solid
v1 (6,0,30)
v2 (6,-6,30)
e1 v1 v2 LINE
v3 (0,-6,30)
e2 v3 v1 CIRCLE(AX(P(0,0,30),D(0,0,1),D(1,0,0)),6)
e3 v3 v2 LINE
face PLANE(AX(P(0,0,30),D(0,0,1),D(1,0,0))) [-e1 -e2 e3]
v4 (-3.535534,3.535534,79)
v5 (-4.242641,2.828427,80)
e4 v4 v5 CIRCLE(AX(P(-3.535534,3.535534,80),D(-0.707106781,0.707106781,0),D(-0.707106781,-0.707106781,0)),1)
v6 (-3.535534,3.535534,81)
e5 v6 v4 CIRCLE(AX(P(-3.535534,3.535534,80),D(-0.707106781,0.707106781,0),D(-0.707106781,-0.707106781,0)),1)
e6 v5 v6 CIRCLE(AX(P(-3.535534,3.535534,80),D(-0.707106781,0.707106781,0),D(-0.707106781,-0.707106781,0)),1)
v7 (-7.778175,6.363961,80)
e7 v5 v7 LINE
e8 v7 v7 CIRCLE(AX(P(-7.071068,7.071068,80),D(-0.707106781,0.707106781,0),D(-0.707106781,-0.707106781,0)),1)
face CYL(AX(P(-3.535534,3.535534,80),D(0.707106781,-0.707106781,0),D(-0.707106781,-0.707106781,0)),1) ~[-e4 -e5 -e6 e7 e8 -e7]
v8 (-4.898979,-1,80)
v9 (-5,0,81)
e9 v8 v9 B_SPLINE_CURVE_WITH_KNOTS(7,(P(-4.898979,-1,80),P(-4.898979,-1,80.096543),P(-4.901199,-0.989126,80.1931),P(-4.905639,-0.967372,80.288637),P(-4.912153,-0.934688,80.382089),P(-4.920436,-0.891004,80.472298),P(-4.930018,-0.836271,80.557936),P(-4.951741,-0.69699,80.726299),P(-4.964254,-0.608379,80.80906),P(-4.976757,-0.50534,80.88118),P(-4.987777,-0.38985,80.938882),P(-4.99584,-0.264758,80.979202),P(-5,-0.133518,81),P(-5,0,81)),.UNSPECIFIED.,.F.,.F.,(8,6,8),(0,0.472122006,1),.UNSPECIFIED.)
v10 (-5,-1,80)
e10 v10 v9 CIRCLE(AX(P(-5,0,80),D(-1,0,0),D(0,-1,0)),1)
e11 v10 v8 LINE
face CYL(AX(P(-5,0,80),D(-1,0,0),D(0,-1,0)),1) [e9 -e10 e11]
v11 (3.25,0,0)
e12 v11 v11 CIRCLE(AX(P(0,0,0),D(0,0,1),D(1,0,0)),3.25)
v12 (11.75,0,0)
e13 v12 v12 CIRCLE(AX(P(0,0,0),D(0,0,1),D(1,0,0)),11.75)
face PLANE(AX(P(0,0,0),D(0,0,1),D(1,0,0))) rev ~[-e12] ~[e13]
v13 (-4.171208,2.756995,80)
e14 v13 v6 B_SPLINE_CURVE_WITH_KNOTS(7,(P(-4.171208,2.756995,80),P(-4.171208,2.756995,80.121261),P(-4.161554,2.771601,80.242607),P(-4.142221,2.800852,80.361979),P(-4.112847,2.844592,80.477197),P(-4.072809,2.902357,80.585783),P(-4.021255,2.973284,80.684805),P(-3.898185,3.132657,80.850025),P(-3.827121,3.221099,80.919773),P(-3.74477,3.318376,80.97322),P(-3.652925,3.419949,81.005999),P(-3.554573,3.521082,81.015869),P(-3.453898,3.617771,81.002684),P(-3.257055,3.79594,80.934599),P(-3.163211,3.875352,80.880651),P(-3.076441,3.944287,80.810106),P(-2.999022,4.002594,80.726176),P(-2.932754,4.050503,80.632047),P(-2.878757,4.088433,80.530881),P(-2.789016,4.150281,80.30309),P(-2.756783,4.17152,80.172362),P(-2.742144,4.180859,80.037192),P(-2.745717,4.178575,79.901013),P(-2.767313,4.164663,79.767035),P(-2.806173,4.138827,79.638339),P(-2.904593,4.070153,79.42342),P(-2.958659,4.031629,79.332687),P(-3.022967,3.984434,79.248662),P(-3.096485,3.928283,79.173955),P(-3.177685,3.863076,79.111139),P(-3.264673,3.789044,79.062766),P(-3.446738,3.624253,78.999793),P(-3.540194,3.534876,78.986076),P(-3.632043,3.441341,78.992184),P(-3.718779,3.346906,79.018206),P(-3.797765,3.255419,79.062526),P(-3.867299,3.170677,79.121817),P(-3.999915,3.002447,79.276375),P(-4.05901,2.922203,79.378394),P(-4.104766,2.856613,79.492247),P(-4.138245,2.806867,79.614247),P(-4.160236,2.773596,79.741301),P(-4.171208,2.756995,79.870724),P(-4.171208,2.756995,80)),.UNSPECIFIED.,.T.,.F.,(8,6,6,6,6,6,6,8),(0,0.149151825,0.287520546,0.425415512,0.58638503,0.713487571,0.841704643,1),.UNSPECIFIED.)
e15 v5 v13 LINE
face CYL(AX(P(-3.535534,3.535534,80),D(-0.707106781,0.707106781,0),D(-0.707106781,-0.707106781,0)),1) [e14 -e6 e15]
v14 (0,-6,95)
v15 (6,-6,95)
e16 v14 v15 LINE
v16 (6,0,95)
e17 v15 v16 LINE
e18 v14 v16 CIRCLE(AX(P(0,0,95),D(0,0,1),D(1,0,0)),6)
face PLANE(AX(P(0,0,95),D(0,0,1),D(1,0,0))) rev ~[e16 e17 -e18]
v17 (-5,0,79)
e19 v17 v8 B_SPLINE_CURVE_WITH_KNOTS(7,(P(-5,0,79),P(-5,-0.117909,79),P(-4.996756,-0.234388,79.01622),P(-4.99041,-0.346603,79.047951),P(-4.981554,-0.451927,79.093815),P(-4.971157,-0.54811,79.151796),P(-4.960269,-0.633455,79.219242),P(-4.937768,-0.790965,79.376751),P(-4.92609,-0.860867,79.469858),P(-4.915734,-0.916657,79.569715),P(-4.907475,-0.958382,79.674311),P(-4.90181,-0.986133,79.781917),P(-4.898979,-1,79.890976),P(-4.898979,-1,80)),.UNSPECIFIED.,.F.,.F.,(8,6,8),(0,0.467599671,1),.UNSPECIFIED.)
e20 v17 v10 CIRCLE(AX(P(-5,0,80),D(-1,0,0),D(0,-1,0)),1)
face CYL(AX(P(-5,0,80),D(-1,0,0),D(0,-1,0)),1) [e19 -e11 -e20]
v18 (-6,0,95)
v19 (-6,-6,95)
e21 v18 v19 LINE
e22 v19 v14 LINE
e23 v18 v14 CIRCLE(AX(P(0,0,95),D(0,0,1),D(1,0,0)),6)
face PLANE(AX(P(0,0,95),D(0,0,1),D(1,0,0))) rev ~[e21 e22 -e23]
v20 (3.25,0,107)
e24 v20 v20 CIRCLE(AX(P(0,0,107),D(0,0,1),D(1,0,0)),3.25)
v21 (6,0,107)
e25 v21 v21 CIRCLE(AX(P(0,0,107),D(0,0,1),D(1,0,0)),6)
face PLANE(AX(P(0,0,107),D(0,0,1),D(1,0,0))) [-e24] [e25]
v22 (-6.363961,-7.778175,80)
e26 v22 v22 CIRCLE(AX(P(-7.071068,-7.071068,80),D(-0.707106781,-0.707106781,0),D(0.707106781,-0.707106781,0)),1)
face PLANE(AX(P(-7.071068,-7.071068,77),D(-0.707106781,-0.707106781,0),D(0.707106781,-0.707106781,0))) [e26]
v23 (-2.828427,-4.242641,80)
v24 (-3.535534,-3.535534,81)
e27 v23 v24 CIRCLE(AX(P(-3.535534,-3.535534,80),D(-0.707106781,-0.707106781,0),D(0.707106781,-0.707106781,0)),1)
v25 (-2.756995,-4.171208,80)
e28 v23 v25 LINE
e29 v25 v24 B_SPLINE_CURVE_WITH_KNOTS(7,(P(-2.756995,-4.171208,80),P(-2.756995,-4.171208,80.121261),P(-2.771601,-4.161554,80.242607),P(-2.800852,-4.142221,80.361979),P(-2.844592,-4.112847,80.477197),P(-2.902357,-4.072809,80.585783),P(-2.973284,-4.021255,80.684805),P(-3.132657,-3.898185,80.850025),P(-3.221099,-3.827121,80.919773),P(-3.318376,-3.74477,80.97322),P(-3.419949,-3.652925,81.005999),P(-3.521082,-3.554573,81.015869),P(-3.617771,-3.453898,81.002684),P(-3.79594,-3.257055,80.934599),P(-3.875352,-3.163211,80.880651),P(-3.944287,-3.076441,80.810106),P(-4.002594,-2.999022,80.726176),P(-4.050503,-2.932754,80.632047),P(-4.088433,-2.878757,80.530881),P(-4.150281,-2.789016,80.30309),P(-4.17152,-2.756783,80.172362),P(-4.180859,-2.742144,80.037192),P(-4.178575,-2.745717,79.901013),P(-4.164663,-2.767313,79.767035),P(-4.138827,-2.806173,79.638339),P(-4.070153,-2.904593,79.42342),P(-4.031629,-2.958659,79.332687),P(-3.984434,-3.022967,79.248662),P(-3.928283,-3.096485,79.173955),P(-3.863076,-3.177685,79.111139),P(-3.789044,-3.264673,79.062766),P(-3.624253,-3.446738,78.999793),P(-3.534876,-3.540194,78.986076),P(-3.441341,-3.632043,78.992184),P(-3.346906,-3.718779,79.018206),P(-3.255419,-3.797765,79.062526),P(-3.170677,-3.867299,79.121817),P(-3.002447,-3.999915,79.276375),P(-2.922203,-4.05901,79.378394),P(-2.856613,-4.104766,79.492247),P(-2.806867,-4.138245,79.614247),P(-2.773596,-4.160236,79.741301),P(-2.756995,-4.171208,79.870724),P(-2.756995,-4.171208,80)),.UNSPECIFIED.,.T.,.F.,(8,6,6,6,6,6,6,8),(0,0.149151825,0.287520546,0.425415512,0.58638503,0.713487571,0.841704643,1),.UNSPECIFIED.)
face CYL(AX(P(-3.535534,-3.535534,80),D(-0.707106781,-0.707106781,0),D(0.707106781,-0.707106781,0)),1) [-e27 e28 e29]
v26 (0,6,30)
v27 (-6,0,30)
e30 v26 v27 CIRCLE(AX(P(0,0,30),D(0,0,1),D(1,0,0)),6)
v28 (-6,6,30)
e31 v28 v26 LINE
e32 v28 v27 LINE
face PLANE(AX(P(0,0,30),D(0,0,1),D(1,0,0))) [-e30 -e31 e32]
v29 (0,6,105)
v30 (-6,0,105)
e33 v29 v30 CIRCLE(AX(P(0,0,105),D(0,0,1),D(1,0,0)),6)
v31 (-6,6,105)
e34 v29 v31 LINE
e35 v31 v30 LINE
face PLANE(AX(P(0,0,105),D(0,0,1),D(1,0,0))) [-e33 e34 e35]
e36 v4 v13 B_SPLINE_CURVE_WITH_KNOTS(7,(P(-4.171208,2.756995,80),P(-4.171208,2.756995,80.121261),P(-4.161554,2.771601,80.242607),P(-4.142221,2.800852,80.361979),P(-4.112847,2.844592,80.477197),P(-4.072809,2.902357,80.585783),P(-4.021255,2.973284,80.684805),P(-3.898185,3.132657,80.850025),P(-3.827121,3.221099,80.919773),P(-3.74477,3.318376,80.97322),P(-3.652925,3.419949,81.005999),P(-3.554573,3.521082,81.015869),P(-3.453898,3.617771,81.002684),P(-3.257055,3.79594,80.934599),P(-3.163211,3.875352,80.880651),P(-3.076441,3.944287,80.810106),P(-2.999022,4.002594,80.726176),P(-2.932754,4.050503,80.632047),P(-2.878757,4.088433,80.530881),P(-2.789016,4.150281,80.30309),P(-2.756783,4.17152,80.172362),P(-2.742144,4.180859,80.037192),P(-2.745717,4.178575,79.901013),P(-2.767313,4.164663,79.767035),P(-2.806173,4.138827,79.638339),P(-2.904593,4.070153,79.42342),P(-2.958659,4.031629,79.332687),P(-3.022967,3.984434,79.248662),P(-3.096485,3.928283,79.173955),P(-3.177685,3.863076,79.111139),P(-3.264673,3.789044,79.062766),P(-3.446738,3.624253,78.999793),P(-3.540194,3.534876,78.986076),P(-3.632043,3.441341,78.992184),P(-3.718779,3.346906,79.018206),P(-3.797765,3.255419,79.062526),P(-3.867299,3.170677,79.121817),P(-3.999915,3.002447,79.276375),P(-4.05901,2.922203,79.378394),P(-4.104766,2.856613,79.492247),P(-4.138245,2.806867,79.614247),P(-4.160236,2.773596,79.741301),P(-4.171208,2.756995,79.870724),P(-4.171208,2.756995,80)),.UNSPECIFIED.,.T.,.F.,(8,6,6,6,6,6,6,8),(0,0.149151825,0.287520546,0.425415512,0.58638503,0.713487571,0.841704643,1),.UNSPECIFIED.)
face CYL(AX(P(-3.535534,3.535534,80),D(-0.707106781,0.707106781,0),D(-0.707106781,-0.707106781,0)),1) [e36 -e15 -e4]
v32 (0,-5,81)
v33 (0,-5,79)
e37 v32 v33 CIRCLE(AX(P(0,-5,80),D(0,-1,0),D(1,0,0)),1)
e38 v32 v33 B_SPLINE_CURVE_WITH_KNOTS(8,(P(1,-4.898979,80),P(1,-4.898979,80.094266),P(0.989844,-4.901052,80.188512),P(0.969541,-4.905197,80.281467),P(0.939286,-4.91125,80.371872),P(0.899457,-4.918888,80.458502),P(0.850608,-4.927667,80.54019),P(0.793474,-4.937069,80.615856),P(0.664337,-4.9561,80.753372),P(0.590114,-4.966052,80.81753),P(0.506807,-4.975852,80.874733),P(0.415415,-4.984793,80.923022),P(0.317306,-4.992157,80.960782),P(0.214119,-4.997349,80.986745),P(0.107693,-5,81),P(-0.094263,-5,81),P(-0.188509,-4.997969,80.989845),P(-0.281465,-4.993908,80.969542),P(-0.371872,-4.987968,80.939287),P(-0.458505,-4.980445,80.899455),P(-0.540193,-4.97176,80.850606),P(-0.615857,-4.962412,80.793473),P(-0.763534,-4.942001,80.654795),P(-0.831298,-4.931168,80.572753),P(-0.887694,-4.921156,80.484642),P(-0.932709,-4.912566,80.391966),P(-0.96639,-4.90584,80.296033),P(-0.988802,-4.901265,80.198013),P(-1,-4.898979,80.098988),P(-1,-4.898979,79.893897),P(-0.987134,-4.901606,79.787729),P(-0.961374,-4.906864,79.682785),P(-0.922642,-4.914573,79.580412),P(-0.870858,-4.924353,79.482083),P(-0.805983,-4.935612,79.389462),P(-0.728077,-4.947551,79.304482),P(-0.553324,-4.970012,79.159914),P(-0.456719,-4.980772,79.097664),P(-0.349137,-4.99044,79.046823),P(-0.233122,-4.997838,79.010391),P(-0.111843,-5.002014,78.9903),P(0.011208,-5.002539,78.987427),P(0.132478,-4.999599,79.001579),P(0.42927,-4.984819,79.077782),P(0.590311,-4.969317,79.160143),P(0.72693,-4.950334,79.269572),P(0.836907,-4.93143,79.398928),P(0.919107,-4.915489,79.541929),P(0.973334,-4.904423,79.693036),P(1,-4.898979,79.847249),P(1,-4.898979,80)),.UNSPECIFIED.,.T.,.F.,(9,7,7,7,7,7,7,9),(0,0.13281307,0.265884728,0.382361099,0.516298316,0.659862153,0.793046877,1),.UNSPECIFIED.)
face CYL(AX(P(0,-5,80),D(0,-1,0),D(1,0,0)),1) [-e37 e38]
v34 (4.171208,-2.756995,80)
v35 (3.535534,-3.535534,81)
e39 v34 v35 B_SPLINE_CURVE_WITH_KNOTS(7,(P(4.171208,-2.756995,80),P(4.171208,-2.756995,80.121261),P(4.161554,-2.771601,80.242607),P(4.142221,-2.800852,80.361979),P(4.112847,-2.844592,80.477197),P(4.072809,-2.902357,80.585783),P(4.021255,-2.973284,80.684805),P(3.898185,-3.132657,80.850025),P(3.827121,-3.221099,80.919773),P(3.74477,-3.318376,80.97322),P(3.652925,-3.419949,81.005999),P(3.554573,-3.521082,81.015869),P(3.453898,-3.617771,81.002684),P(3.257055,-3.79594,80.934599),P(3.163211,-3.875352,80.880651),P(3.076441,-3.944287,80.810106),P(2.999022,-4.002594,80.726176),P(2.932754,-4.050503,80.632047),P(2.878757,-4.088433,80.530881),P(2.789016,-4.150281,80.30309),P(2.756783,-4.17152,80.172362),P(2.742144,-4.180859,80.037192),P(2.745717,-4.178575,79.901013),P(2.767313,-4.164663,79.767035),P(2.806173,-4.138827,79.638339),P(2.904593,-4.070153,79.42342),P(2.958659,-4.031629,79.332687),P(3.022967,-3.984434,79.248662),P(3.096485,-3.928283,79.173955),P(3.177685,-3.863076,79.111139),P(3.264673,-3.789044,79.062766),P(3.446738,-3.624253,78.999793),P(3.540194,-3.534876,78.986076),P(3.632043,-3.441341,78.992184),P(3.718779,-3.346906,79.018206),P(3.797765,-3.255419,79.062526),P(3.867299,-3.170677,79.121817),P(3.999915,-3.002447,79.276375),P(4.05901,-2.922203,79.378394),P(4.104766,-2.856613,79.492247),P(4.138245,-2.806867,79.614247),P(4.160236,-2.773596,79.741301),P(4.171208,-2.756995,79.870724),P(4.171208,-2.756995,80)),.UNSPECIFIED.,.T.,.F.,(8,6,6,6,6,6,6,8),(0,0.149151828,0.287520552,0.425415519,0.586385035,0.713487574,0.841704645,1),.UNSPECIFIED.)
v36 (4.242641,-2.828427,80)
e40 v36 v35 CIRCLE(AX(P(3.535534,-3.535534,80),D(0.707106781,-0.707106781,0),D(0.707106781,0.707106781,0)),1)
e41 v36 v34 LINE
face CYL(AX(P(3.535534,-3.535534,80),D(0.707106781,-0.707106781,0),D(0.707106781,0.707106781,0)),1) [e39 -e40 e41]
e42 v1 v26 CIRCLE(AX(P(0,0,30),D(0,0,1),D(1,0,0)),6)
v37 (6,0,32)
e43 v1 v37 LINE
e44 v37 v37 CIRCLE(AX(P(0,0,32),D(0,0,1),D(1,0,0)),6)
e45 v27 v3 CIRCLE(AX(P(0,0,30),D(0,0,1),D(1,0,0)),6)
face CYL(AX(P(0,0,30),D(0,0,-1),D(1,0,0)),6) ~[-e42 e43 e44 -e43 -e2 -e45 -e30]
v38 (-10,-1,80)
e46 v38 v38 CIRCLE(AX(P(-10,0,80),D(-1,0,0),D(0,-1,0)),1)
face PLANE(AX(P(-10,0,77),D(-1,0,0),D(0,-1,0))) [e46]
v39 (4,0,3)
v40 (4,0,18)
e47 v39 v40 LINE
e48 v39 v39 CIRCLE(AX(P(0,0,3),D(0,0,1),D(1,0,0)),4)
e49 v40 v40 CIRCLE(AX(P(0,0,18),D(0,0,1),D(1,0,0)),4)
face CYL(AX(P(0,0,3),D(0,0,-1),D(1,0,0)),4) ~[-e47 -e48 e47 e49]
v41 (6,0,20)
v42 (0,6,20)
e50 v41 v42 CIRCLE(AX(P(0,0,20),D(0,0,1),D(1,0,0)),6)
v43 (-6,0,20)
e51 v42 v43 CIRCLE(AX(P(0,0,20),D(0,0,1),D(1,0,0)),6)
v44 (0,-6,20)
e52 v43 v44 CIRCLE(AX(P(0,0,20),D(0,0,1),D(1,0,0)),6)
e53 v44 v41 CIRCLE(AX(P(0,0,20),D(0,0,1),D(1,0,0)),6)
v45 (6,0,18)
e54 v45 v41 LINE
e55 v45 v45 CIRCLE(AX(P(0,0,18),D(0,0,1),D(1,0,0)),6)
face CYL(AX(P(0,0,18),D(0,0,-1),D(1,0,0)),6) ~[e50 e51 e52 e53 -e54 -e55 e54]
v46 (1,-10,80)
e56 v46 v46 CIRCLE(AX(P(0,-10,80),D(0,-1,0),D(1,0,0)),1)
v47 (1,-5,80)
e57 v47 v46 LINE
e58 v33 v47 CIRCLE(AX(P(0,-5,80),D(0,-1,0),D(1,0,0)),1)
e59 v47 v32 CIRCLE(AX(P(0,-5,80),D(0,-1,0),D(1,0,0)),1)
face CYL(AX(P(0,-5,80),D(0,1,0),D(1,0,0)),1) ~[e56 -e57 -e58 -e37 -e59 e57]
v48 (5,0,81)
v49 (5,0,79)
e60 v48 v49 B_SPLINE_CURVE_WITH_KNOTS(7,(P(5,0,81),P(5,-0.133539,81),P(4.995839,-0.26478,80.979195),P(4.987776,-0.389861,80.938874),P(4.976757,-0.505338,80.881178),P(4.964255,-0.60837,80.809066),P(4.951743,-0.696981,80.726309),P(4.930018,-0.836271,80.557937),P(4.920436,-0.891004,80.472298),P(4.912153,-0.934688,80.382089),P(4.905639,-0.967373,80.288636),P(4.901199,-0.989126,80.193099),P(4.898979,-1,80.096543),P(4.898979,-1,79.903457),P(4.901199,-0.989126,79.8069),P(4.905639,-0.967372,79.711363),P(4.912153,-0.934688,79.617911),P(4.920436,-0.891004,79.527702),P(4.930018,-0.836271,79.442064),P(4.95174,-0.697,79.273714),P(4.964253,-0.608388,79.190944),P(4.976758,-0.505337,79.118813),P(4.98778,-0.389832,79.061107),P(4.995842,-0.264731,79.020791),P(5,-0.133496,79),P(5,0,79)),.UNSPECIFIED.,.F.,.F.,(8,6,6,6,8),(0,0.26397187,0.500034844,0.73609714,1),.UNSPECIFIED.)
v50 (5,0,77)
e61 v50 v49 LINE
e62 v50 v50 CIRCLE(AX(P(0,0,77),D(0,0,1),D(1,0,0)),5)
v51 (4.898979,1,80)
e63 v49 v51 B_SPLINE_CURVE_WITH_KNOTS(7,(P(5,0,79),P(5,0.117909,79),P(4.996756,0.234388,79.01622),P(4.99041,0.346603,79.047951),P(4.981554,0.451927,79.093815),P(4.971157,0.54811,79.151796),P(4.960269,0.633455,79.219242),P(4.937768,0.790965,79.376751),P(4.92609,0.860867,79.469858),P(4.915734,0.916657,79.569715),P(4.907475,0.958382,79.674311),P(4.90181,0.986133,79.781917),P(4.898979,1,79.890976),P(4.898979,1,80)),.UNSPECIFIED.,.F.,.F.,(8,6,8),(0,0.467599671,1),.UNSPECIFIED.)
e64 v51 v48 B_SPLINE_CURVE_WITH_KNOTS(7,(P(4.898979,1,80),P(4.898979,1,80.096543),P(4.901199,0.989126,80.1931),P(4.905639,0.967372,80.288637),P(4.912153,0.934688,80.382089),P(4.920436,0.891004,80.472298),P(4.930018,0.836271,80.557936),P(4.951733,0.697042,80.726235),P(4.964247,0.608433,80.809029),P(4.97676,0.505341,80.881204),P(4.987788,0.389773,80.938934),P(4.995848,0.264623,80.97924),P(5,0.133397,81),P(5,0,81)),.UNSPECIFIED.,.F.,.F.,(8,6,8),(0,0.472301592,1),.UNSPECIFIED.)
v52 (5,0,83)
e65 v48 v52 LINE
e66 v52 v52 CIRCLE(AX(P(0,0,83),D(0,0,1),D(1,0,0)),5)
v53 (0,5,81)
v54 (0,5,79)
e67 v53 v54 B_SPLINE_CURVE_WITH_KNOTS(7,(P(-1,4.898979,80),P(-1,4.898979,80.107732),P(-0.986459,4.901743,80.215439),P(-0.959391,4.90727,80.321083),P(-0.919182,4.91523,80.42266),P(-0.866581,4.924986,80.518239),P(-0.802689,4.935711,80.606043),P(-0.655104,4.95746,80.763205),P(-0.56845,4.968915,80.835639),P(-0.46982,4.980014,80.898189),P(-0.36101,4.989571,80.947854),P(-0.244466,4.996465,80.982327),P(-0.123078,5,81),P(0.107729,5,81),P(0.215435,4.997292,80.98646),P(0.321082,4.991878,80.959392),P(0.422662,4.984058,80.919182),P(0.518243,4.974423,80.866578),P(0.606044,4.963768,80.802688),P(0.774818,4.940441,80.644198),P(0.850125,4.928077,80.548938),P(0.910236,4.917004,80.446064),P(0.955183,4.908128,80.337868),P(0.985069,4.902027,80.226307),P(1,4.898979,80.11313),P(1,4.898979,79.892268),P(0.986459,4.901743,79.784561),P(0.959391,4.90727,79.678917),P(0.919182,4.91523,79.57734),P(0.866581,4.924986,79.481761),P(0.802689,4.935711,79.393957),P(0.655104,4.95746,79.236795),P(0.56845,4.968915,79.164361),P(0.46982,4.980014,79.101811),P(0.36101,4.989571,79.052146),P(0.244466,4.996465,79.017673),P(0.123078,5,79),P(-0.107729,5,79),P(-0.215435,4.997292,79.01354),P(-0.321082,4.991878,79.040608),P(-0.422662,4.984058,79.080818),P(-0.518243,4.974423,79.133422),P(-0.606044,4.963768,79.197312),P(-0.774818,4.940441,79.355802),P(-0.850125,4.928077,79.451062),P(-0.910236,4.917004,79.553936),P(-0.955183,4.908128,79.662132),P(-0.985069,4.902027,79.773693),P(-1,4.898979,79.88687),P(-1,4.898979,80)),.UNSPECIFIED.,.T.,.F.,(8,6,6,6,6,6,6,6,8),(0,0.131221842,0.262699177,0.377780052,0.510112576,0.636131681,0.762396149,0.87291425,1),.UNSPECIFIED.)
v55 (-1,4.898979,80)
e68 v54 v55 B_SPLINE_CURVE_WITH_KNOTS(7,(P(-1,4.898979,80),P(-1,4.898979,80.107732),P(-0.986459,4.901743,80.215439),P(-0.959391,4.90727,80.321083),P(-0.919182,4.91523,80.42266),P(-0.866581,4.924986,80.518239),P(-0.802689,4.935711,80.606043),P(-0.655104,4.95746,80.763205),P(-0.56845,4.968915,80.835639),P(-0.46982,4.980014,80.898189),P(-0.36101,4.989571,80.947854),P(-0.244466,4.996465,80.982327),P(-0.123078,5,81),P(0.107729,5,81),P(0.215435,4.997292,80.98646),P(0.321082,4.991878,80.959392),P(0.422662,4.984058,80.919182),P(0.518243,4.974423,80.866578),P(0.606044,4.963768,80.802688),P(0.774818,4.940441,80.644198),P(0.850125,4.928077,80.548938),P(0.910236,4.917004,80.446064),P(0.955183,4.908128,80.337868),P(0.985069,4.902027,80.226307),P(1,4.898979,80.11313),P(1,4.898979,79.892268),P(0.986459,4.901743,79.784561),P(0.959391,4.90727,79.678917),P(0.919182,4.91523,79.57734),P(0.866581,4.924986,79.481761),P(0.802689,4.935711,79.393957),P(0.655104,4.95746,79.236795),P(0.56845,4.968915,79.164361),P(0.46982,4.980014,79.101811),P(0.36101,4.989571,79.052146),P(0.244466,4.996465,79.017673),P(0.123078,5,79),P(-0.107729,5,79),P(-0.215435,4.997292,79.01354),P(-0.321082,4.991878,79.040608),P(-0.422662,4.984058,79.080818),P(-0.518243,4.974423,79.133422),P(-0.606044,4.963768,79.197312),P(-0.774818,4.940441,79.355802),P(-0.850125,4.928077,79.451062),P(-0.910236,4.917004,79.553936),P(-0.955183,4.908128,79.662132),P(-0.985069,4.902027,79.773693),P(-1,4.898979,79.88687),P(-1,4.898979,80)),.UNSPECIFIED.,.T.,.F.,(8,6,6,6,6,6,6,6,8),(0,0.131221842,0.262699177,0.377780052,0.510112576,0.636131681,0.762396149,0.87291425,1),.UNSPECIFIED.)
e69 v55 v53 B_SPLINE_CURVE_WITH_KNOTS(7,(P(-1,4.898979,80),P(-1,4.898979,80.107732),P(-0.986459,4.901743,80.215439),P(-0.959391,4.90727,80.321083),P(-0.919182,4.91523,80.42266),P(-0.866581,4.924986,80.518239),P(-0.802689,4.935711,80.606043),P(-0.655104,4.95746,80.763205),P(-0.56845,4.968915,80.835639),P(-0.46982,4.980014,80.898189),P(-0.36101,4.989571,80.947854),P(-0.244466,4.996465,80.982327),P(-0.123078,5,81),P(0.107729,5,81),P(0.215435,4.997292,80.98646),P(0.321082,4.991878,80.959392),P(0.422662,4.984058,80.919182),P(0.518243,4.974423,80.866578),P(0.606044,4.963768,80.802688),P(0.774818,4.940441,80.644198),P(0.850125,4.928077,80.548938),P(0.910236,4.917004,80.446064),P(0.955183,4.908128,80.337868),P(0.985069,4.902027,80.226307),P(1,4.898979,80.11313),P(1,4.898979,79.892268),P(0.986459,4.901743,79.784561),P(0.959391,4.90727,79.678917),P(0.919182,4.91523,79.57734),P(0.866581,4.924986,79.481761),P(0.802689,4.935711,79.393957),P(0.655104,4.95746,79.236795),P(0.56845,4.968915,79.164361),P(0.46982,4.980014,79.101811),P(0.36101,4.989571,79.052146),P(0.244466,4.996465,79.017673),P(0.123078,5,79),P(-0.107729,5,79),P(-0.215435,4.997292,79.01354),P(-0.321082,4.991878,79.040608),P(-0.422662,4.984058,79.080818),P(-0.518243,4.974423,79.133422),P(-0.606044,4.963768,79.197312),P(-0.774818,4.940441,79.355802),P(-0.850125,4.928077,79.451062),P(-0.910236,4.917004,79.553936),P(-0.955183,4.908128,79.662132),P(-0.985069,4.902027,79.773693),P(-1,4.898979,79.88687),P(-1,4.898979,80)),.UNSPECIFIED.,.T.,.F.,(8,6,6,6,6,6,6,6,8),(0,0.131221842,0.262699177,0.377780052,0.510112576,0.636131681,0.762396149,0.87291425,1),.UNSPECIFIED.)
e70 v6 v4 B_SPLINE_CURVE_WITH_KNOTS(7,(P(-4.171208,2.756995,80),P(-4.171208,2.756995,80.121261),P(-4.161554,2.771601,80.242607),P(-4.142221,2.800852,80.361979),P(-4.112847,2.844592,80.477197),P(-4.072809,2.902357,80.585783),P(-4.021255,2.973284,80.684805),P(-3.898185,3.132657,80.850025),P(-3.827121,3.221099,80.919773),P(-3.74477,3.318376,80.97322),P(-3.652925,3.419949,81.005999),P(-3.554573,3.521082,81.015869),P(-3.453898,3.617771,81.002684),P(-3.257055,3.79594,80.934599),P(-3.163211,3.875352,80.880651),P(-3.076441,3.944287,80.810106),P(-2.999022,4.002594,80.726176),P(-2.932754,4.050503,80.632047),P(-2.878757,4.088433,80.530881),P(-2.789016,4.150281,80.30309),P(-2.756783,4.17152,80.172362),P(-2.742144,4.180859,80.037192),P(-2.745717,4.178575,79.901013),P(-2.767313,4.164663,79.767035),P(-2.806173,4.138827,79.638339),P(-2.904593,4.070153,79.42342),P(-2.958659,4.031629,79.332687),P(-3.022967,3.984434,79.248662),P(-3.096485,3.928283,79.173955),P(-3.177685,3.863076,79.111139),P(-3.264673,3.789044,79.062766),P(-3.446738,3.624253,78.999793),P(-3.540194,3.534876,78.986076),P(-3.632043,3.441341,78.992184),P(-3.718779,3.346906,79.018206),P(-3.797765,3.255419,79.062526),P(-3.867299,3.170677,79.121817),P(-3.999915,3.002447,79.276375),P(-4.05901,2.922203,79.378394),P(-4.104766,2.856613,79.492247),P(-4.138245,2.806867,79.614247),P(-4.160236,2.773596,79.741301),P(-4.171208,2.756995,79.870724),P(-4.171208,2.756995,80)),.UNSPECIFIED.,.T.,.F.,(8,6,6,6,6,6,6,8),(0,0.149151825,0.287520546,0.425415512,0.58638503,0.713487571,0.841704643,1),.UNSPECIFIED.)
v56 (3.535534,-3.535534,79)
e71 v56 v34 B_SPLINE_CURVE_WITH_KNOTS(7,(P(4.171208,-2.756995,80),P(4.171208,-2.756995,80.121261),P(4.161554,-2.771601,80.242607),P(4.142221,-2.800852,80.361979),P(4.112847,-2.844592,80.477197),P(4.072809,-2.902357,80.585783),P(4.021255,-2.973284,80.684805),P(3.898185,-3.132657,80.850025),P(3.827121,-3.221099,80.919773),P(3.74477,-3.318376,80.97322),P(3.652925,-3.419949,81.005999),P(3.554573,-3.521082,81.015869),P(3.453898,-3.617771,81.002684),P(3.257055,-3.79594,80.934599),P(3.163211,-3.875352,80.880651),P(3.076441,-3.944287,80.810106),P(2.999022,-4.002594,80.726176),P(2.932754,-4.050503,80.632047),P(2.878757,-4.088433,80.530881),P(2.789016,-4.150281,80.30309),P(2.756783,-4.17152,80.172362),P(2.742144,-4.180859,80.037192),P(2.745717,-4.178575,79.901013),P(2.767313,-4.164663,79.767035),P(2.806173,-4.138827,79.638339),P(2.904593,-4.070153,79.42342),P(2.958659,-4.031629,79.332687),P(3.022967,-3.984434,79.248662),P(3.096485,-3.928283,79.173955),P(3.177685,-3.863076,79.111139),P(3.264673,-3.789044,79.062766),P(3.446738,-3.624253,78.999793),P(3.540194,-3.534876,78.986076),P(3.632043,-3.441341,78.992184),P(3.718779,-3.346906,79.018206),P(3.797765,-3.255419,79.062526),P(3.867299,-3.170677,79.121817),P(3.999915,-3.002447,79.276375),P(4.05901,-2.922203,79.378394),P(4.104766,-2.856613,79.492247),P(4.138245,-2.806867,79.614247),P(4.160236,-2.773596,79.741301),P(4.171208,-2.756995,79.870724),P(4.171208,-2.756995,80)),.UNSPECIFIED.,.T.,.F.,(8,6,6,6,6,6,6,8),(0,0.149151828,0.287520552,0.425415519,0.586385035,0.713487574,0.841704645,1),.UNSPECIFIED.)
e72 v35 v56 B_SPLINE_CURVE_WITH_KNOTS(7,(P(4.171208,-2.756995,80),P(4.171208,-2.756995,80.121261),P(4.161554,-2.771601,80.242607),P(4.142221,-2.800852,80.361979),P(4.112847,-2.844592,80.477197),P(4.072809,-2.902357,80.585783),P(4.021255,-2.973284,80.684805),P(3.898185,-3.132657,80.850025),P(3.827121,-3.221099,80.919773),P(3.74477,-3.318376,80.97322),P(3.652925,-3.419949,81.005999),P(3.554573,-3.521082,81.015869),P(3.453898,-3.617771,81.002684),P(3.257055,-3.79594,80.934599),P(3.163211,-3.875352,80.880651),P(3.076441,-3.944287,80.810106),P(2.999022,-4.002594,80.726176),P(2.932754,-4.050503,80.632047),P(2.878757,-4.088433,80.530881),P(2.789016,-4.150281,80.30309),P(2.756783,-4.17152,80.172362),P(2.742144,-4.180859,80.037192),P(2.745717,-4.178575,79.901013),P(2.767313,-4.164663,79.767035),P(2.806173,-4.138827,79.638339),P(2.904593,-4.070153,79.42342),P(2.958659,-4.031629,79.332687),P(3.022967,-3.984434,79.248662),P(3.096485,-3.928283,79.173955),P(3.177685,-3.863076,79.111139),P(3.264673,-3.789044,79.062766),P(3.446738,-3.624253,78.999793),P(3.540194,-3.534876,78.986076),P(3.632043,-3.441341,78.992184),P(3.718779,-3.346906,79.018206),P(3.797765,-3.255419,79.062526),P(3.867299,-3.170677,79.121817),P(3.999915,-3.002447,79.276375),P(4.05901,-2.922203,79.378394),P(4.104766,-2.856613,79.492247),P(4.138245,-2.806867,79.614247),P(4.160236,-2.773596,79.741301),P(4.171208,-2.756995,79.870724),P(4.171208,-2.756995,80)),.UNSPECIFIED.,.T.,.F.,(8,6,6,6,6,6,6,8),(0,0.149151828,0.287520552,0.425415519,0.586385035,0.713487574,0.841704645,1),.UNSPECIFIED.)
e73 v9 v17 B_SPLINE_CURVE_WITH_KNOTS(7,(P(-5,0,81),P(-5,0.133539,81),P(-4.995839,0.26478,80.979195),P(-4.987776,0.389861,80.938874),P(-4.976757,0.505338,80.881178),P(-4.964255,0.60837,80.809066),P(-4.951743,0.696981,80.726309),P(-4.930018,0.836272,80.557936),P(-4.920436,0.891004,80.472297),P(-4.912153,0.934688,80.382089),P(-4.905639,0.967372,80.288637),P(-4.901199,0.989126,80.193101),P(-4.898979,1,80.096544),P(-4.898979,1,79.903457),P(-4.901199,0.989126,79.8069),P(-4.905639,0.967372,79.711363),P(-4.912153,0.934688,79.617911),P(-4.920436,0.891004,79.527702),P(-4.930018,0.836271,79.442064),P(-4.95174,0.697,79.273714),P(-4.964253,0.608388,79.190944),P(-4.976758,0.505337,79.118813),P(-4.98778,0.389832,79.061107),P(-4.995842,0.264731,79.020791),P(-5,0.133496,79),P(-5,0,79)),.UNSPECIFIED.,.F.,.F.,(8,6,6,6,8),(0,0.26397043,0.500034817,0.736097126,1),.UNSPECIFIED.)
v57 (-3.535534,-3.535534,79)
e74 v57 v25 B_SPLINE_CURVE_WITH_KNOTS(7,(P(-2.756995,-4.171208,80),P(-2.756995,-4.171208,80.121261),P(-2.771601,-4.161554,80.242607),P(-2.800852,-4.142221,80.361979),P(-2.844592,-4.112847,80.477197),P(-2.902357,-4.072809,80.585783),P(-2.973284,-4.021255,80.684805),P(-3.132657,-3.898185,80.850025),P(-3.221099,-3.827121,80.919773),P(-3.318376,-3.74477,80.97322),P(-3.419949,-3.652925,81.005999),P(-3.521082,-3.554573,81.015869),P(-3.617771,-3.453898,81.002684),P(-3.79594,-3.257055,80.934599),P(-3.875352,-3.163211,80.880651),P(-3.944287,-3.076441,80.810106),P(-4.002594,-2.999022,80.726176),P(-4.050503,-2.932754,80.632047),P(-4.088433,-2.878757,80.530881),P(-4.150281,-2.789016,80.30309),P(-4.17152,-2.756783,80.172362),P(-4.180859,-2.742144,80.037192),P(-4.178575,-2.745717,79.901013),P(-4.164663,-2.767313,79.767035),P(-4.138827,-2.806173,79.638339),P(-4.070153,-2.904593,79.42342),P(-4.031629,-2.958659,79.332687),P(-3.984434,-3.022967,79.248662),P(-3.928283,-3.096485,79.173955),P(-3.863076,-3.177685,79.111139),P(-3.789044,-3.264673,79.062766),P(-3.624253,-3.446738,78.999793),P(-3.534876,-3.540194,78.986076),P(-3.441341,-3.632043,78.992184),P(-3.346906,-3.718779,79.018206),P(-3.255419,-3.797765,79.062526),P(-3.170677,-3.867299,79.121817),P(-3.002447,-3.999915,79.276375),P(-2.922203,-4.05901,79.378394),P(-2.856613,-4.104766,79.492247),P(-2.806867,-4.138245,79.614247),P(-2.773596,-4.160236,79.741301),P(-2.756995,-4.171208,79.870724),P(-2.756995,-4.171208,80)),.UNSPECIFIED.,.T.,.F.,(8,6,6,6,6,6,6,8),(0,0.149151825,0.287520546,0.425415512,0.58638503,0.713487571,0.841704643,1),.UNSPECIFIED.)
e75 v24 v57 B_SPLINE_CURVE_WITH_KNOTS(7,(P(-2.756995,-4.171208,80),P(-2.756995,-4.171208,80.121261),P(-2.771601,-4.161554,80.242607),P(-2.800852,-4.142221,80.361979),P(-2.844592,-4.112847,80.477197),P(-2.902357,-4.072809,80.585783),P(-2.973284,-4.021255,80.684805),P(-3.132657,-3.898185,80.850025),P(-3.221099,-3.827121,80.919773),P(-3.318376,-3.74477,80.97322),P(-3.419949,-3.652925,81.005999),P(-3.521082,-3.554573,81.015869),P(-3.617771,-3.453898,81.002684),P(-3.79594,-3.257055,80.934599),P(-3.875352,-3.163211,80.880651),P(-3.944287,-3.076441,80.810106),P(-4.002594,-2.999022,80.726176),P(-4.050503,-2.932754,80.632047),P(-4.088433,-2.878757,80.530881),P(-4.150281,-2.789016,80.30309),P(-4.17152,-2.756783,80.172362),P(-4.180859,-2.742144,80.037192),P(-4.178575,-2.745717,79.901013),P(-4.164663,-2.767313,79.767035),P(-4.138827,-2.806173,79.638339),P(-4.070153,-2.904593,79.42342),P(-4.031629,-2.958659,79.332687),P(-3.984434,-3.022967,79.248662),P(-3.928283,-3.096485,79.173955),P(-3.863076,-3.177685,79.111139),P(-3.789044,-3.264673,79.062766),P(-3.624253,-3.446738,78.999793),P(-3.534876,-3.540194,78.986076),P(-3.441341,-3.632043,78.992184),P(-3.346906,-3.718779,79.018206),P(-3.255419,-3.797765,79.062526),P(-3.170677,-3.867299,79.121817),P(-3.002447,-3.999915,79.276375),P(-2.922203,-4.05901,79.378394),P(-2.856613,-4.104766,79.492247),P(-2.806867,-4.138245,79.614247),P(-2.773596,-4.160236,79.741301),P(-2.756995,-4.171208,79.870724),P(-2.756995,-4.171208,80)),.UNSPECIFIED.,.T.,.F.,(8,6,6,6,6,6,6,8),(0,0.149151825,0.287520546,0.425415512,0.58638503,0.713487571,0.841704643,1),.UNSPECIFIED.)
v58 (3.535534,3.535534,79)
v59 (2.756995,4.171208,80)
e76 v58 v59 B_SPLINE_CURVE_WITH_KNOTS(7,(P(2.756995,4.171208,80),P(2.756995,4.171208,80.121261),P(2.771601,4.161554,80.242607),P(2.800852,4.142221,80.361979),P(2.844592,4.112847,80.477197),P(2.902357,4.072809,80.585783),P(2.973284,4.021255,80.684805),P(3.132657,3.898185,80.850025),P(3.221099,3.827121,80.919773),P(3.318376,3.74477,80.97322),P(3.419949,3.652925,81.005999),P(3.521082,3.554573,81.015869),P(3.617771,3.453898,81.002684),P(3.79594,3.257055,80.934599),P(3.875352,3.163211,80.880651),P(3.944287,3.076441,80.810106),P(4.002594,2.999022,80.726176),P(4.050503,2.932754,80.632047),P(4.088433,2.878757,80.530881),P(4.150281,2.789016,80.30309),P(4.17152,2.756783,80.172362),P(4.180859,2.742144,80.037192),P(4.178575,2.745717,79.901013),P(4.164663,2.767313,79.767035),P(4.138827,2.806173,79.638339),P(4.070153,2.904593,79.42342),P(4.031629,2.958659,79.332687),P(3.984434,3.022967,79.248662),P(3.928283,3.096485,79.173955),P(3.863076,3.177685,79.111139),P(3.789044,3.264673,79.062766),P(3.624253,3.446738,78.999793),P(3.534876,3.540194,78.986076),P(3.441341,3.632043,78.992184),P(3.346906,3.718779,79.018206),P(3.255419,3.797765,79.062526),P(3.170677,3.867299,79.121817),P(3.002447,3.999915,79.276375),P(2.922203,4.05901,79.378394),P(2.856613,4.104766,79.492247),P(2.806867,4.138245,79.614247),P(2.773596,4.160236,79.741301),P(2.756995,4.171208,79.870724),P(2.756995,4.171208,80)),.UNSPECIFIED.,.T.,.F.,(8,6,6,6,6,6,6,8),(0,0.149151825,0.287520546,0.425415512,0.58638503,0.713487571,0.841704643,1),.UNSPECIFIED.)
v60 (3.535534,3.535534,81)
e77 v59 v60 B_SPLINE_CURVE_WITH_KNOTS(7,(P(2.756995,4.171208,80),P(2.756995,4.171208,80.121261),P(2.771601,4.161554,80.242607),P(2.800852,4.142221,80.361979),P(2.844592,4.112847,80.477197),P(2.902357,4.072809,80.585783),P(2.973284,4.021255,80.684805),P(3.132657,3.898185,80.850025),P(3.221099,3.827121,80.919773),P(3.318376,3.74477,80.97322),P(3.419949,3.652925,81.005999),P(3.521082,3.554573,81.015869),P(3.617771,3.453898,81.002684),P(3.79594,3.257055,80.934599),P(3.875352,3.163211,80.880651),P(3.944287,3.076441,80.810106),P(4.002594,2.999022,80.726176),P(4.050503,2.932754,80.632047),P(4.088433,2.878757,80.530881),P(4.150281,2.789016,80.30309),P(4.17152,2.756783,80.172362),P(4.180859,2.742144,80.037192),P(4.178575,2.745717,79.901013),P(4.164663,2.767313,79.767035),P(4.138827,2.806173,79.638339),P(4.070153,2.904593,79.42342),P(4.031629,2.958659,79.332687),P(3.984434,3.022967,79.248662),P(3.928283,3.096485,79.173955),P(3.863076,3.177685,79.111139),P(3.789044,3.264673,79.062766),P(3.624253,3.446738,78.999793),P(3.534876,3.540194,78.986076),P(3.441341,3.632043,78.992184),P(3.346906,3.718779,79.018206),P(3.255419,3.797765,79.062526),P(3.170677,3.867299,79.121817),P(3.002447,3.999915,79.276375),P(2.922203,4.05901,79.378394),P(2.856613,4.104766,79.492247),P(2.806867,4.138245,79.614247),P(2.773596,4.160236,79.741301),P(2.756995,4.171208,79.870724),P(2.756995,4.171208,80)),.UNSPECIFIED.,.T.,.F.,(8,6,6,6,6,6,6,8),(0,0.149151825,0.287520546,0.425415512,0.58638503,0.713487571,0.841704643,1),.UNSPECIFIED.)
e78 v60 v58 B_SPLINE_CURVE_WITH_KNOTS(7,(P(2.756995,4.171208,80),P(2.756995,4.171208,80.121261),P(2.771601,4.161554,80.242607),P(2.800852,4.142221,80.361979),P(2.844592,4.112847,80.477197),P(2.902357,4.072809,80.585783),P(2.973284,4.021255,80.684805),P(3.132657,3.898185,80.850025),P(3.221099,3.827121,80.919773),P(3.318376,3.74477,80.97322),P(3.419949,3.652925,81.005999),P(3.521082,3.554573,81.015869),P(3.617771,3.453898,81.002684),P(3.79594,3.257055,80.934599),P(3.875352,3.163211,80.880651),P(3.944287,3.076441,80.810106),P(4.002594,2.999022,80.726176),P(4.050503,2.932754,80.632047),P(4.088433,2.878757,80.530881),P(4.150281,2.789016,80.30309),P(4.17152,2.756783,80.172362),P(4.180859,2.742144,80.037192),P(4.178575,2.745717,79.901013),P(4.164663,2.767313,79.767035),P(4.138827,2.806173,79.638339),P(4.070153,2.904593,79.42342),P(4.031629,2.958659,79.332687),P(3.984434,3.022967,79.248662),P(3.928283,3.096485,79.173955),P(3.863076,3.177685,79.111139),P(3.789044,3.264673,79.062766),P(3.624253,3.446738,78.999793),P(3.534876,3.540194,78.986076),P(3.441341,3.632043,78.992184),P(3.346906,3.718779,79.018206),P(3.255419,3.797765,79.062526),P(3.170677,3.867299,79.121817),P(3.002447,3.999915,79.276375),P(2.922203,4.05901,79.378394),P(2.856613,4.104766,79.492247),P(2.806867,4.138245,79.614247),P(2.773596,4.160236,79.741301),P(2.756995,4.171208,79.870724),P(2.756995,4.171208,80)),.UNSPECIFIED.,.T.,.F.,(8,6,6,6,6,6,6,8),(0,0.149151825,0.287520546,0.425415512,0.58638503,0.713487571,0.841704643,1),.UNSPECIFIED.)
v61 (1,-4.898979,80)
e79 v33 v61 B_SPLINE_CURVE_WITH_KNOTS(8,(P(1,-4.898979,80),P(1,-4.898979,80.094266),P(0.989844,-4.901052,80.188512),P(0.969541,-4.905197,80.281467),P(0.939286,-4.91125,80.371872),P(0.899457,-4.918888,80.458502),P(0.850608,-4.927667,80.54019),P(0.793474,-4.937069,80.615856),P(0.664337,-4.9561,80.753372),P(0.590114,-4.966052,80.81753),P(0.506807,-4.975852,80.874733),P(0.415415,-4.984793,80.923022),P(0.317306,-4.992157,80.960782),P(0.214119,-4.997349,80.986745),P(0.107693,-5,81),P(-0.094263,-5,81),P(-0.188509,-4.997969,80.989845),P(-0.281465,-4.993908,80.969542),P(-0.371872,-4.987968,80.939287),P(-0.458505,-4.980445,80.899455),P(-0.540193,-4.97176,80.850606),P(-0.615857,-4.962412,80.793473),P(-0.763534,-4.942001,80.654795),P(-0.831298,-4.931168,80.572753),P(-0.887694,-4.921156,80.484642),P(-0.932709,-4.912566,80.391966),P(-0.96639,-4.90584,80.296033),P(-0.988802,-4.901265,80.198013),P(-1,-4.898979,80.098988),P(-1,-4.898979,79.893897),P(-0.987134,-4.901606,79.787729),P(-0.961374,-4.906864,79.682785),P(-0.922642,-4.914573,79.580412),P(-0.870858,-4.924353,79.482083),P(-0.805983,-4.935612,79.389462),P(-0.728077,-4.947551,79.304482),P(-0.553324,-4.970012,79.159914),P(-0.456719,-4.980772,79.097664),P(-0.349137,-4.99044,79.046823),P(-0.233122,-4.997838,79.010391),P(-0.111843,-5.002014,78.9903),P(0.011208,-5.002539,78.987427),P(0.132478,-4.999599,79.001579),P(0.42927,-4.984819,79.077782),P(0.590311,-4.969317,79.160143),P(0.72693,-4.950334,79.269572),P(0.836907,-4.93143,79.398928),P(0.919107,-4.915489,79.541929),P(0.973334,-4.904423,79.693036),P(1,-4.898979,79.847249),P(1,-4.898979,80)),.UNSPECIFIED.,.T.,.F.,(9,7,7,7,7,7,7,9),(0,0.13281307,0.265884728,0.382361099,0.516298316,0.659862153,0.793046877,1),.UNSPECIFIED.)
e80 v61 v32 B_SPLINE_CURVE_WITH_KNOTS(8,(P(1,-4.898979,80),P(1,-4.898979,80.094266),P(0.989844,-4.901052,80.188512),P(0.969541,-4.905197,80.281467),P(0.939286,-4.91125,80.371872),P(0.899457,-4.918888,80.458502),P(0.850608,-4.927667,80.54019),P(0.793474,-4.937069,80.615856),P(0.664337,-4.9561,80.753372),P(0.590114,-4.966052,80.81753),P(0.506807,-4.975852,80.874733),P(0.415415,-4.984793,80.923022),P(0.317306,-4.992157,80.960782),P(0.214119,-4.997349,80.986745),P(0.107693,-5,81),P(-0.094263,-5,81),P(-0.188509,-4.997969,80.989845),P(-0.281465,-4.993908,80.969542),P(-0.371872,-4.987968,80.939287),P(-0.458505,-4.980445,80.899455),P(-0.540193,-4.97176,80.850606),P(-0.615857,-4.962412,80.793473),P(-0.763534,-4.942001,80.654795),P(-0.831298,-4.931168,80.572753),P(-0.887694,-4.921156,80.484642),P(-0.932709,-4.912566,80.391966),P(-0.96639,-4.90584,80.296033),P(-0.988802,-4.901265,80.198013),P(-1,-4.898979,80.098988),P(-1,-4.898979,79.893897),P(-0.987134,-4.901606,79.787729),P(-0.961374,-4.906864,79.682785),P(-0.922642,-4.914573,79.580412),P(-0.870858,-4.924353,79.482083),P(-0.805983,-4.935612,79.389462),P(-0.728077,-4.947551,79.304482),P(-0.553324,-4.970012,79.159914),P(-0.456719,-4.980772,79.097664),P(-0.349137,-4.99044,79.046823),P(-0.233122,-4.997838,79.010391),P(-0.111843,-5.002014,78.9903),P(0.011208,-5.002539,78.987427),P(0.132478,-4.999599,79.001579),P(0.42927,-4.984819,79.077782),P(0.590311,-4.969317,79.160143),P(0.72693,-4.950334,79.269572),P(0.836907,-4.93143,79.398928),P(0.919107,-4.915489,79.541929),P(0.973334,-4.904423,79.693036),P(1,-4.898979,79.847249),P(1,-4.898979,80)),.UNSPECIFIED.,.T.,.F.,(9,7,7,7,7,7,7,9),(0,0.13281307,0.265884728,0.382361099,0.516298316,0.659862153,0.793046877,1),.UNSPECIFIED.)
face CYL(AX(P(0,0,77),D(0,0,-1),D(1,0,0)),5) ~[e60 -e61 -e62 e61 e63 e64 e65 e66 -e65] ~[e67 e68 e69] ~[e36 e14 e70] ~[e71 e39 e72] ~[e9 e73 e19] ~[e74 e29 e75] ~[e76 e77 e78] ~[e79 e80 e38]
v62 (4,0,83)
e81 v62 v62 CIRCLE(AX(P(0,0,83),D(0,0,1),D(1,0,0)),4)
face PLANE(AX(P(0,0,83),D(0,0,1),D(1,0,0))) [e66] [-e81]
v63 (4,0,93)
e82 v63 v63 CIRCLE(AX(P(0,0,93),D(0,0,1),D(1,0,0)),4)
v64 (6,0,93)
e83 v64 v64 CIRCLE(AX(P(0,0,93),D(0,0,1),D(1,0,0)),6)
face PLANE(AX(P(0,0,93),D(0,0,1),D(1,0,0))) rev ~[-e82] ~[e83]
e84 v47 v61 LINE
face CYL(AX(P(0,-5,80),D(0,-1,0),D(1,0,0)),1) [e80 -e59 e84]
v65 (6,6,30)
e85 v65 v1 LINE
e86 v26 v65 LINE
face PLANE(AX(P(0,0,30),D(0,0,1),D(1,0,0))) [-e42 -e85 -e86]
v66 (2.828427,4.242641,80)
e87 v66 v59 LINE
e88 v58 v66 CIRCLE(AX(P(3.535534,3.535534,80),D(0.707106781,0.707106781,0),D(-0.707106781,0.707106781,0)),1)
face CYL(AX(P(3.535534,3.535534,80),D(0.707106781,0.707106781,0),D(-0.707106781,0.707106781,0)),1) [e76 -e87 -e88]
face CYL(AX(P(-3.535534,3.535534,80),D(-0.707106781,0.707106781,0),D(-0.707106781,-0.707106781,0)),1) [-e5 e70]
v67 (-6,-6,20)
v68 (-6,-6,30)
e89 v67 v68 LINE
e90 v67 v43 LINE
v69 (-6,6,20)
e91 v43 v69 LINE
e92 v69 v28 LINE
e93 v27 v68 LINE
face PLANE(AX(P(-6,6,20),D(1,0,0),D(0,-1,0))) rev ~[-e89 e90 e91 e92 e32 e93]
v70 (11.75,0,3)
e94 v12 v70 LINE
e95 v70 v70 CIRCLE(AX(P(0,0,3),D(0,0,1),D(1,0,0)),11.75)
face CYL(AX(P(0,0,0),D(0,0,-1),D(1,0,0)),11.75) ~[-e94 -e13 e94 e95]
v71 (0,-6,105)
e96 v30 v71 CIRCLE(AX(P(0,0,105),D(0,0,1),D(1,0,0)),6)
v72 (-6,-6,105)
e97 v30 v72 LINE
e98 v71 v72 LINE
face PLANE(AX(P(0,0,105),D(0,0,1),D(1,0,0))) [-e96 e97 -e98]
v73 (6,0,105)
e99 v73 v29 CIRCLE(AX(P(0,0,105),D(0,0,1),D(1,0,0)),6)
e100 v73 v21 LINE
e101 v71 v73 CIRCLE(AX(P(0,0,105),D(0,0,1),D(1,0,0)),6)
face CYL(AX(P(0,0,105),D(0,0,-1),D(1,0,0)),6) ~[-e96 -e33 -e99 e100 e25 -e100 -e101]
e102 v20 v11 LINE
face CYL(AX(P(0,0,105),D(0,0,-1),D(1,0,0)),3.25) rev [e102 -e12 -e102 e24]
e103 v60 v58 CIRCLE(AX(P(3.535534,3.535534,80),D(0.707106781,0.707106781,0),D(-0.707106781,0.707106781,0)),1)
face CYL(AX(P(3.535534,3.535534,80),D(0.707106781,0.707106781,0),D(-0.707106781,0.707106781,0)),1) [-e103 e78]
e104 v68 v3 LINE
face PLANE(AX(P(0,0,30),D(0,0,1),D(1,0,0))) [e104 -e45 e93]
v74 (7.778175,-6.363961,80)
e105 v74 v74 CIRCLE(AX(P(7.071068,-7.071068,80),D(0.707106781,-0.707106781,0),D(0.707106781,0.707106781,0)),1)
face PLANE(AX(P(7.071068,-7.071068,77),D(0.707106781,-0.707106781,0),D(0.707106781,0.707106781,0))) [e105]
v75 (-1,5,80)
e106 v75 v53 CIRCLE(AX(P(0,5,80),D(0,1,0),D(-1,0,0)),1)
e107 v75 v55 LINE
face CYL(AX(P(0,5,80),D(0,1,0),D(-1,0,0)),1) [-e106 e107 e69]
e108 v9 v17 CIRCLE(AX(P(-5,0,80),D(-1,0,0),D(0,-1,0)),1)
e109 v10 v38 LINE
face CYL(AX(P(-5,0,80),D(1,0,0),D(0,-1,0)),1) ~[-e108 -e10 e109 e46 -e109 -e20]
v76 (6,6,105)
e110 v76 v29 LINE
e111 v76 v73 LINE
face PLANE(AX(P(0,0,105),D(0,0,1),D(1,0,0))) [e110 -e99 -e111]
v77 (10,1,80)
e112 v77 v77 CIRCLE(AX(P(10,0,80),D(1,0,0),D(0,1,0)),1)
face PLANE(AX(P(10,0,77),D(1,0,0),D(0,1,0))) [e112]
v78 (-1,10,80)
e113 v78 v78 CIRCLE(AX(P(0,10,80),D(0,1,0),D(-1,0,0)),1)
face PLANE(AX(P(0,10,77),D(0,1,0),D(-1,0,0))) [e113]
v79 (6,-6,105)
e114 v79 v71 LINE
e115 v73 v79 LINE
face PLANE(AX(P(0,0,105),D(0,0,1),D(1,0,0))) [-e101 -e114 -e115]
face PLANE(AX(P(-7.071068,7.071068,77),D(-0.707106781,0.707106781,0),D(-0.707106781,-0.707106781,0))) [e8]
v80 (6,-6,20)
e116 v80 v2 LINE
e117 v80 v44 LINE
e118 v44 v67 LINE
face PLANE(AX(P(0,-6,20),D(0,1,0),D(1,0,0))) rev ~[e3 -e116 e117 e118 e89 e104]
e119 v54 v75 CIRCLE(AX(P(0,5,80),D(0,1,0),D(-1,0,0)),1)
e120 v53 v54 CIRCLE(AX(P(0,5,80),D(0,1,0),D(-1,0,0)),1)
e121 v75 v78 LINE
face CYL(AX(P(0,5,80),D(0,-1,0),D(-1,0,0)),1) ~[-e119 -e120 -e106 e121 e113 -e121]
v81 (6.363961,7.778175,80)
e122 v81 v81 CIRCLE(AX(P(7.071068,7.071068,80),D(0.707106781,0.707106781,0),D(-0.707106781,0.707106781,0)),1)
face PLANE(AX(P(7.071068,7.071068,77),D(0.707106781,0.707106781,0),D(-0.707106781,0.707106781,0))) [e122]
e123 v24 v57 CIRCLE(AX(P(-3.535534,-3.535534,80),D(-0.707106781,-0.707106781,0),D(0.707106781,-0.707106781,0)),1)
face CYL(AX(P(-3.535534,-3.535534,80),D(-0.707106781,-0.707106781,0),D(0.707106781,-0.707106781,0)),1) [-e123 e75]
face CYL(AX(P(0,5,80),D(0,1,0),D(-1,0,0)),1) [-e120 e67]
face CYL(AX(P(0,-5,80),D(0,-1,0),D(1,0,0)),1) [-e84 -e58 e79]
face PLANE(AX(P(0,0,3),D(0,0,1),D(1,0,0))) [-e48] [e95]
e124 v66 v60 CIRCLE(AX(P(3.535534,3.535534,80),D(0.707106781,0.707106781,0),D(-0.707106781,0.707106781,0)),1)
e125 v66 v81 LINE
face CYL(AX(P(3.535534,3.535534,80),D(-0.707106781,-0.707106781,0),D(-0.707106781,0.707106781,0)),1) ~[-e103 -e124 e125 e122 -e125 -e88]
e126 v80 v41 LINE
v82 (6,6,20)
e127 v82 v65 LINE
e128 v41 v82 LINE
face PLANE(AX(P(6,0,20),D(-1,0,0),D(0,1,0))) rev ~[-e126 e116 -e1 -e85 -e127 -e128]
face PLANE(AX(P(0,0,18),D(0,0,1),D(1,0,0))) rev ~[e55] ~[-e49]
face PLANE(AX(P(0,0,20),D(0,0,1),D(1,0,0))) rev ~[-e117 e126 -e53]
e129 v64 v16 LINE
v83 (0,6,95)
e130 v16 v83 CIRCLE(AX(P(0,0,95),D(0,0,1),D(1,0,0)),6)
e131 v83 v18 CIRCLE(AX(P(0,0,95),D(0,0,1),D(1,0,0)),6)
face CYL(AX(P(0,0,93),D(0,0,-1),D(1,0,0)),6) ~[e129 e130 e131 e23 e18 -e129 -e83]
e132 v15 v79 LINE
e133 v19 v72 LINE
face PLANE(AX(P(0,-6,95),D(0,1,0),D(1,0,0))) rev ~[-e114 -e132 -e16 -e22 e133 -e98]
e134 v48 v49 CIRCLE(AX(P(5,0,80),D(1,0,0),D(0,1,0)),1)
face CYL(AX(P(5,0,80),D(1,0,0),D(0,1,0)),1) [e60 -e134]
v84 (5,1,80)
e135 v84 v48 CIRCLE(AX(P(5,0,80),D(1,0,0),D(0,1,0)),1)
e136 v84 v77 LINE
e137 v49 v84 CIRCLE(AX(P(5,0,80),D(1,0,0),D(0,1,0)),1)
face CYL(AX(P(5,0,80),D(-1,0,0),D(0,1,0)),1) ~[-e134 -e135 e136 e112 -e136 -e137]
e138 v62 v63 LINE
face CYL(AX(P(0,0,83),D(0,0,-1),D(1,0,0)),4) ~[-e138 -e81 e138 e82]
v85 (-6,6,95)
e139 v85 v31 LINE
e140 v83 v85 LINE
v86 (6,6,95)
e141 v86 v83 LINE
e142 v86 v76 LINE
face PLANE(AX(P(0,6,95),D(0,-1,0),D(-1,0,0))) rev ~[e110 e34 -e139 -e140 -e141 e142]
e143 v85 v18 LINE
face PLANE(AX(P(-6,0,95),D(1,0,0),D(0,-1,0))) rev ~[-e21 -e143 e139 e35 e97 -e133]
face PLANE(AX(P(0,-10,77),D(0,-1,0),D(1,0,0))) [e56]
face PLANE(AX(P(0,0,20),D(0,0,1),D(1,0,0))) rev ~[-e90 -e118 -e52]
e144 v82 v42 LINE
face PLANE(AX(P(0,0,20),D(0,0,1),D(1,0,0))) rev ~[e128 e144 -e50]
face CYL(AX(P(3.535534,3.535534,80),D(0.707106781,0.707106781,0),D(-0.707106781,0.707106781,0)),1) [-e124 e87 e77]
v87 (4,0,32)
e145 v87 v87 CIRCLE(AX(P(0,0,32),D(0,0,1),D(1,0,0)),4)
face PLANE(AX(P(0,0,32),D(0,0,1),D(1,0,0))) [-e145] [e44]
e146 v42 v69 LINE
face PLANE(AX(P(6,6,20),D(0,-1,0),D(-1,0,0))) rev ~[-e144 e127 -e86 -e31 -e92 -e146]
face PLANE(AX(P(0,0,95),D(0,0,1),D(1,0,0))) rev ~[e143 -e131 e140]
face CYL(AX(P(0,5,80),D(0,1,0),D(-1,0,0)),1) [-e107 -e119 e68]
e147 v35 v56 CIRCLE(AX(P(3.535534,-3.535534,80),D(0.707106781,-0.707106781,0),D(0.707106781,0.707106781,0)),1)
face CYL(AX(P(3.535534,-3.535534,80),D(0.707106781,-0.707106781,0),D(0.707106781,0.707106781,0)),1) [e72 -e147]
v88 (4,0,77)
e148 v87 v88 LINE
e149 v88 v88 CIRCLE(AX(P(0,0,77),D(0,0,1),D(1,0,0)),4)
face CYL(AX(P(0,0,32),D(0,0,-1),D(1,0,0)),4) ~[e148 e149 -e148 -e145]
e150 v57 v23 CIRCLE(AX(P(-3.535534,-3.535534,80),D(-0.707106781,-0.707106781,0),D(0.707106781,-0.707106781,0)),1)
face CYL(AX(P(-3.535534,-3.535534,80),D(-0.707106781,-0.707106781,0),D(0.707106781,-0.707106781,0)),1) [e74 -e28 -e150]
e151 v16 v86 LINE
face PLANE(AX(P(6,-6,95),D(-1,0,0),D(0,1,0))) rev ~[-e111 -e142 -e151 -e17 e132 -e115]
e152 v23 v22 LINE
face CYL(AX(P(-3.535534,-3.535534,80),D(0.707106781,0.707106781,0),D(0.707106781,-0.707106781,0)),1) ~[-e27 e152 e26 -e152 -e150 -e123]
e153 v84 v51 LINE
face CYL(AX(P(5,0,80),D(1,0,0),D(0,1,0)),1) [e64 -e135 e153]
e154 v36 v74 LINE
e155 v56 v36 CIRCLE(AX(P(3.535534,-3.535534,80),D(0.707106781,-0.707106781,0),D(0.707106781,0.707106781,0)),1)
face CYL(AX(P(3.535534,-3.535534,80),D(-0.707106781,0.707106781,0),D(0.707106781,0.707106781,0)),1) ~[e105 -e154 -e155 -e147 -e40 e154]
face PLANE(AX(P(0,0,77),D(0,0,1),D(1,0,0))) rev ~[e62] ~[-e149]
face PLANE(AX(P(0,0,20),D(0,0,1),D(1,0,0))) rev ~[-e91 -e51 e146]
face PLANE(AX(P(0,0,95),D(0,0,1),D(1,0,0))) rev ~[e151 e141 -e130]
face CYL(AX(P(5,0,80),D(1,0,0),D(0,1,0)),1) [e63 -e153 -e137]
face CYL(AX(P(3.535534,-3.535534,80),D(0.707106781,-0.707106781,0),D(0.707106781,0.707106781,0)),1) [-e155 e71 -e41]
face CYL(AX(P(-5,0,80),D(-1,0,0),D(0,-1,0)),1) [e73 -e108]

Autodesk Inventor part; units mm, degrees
ref_plane "XZ Plane" through (0, 0, 0) normal (0, 1, 0) x (-1, 0, 0)
ref_plane "XY Plane" through (0, 0, 0) normal (0, 0, 1) x (1, 0, 0)
sketch "Sketch1" plane through (0, 0, 0) normal (0, 0, 1) x (1, 0, 0)
  circle A0 centre (0, 0) radius 3.25
  circle A1 centre (0, 0) radius 11.75
  dimension "d0" = 6.5
  dimension "d1" = 23.5
extrude "Extrusion1" add sketch "Sketch1" along normal blind 3
sketch "Sketch2" plane through (0, 0, 3) normal (0, 0, 1) x (1, 0, 0)
  circle A0 centre (0, 0) radius 3.25 projected
  circle A1 centre (0, 0) radius 4
  dimension "d4" = 8
extrude "Extrusion2" add sketch "Sketch2" along normal blind 15
sketch "Sketch3" plane through (0, 0, 18) normal (0, 0, 1) x (1, 0, 0)
  circle A0 centre (0, 0) radius 3.25 projected
  circle A1 centre (0, 0) radius 6
  dimension "d7" = 12
extrude "Extrusion3" add sketch "Sketch3" along normal blind 2
sketch "Sketch4" plane through (0, 0, 20) normal (0, 0, 1) x (1, 0, 0)
  circle A0 centre (0, 0) radius 3.25 projected
  line L0 (6, 6) -> (-6, 6)
  line L1 (-6, 6) -> (-6, -6)
  line L2 (-6, -6) -> (6, -6)
  line L3 (6, -6) -> (6, 6)
  line L4 (6, 6) -> (-6, -6) construction
  line L5 (-6, 6) -> (6, -6) construction
  circle A1 centre (0, 0) radius 6 projected
extrude "Extrusion4" add sketch "Sketch4" along normal blind 10
sketch "Sketch5" plane through (0, 0, 30) normal (0, 0, 1) x (1, 0, 0)
  circle A0 centre (0, 0) radius 3.25 projected
  circle A1 centre (0, 0) radius 6 projected
extrude "Extrusion5" add sketch "Sketch5" along normal blind 2
sketch "Sketch6" plane through (0, 0, 32) normal (0, 0, 1) x (1, 0, 0)
  circle A0 centre (0, 0) radius 3.25 projected
  circle A1 centre (0, 0) radius 4 projected
extrude "Extrusion6" add sketch "Sketch6" along normal blind 45
sketch "Sketch7" plane through (0, 0, 77) normal (0, 0, 1) x (1, 0, 0)
  circle A0 centre (0, 0) radius 3.25 projected
  circle A1 centre (0, 0) radius 5
  dimension "d16" = 10
extrude "Extrusion7" add sketch "Sketch7" along normal blind 6
sketch "Sketch8" plane through (0, 0, 83) normal (0, 0, 1) x (1, 0, 0)
  circle A0 centre (0, 0) radius 3.25 projected
  circle A1 centre (0, 0) radius 4 projected
extrude "Extrusion8" add sketch "Sketch8" along normal blind 10
sketch "Sketch9" plane through (0, 0, 93) normal (0, 0, 1) x (1, 0, 0)
  circle A0 centre (0, 0) radius 3.25 projected
  circle A1 centre (0, 0) radius 6 projected
extrude "Extrusion9" add sketch "Sketch9" along normal blind 2
sketch "Sketch10" plane through (0, 0, 95) normal (0, 0, 1) x (1, 0, 0)
  circle A0 centre (0, 0) radius 3.25 projected
  line L0 (6, -6) -> (6, 0) projected
  line L1 (0, -6) -> (6, -6) projected
  line L2 (-6, -6) -> (0, -6) projected
  line L3 (-6, 0) -> (-6, -6) projected
  line L4 (-6, 6) -> (-6, 0) projected
  line L5 (0, 6) -> (-6, 6) projected
  line L6 (6, 6) -> (0, 6) projected
  line L7 (6, 0) -> (6, 6) projected
extrude "Extrusion10" add sketch "Sketch10" along normal blind 10
sketch "Sketch11" plane through (0, 0, 105) normal (0, 0, 1) x (1, 0, 0)
  circle A0 centre (0, 0) radius 3.25 projected
  circle A1 centre (0, 0) radius 6 projected
extrude "Extrusion11" add sketch "Sketch11" along normal blind 2
ref_plane "Work Plane1" through (5, 0, 77) normal (1, 0, 0) x (0, 1, 0)
sketch "Sketch12" plane through (5, 0, 77) normal (1, 0, 0) x (0, 1, 0)
  line L0 (5, 0) -> (5, 6) projected
  line L1 (5, 0) -> (-5, 0) projected
  circle A0 centre (0, 3) radius 1
  point P0 (0, -77)
  point P1 (5, 3)
  point P2 (0, 0)
  dimension "d27" = 2
extrude "Extrusion12" add sketch "Sketch12" along normal blind 5 and the other way blind 0.5
pattern_circular "Circular Pattern1" count 8 over 360 about axis through (0, 0, 32) along (0, 0, 1) of "Extrusion12"
properties part number "039"
